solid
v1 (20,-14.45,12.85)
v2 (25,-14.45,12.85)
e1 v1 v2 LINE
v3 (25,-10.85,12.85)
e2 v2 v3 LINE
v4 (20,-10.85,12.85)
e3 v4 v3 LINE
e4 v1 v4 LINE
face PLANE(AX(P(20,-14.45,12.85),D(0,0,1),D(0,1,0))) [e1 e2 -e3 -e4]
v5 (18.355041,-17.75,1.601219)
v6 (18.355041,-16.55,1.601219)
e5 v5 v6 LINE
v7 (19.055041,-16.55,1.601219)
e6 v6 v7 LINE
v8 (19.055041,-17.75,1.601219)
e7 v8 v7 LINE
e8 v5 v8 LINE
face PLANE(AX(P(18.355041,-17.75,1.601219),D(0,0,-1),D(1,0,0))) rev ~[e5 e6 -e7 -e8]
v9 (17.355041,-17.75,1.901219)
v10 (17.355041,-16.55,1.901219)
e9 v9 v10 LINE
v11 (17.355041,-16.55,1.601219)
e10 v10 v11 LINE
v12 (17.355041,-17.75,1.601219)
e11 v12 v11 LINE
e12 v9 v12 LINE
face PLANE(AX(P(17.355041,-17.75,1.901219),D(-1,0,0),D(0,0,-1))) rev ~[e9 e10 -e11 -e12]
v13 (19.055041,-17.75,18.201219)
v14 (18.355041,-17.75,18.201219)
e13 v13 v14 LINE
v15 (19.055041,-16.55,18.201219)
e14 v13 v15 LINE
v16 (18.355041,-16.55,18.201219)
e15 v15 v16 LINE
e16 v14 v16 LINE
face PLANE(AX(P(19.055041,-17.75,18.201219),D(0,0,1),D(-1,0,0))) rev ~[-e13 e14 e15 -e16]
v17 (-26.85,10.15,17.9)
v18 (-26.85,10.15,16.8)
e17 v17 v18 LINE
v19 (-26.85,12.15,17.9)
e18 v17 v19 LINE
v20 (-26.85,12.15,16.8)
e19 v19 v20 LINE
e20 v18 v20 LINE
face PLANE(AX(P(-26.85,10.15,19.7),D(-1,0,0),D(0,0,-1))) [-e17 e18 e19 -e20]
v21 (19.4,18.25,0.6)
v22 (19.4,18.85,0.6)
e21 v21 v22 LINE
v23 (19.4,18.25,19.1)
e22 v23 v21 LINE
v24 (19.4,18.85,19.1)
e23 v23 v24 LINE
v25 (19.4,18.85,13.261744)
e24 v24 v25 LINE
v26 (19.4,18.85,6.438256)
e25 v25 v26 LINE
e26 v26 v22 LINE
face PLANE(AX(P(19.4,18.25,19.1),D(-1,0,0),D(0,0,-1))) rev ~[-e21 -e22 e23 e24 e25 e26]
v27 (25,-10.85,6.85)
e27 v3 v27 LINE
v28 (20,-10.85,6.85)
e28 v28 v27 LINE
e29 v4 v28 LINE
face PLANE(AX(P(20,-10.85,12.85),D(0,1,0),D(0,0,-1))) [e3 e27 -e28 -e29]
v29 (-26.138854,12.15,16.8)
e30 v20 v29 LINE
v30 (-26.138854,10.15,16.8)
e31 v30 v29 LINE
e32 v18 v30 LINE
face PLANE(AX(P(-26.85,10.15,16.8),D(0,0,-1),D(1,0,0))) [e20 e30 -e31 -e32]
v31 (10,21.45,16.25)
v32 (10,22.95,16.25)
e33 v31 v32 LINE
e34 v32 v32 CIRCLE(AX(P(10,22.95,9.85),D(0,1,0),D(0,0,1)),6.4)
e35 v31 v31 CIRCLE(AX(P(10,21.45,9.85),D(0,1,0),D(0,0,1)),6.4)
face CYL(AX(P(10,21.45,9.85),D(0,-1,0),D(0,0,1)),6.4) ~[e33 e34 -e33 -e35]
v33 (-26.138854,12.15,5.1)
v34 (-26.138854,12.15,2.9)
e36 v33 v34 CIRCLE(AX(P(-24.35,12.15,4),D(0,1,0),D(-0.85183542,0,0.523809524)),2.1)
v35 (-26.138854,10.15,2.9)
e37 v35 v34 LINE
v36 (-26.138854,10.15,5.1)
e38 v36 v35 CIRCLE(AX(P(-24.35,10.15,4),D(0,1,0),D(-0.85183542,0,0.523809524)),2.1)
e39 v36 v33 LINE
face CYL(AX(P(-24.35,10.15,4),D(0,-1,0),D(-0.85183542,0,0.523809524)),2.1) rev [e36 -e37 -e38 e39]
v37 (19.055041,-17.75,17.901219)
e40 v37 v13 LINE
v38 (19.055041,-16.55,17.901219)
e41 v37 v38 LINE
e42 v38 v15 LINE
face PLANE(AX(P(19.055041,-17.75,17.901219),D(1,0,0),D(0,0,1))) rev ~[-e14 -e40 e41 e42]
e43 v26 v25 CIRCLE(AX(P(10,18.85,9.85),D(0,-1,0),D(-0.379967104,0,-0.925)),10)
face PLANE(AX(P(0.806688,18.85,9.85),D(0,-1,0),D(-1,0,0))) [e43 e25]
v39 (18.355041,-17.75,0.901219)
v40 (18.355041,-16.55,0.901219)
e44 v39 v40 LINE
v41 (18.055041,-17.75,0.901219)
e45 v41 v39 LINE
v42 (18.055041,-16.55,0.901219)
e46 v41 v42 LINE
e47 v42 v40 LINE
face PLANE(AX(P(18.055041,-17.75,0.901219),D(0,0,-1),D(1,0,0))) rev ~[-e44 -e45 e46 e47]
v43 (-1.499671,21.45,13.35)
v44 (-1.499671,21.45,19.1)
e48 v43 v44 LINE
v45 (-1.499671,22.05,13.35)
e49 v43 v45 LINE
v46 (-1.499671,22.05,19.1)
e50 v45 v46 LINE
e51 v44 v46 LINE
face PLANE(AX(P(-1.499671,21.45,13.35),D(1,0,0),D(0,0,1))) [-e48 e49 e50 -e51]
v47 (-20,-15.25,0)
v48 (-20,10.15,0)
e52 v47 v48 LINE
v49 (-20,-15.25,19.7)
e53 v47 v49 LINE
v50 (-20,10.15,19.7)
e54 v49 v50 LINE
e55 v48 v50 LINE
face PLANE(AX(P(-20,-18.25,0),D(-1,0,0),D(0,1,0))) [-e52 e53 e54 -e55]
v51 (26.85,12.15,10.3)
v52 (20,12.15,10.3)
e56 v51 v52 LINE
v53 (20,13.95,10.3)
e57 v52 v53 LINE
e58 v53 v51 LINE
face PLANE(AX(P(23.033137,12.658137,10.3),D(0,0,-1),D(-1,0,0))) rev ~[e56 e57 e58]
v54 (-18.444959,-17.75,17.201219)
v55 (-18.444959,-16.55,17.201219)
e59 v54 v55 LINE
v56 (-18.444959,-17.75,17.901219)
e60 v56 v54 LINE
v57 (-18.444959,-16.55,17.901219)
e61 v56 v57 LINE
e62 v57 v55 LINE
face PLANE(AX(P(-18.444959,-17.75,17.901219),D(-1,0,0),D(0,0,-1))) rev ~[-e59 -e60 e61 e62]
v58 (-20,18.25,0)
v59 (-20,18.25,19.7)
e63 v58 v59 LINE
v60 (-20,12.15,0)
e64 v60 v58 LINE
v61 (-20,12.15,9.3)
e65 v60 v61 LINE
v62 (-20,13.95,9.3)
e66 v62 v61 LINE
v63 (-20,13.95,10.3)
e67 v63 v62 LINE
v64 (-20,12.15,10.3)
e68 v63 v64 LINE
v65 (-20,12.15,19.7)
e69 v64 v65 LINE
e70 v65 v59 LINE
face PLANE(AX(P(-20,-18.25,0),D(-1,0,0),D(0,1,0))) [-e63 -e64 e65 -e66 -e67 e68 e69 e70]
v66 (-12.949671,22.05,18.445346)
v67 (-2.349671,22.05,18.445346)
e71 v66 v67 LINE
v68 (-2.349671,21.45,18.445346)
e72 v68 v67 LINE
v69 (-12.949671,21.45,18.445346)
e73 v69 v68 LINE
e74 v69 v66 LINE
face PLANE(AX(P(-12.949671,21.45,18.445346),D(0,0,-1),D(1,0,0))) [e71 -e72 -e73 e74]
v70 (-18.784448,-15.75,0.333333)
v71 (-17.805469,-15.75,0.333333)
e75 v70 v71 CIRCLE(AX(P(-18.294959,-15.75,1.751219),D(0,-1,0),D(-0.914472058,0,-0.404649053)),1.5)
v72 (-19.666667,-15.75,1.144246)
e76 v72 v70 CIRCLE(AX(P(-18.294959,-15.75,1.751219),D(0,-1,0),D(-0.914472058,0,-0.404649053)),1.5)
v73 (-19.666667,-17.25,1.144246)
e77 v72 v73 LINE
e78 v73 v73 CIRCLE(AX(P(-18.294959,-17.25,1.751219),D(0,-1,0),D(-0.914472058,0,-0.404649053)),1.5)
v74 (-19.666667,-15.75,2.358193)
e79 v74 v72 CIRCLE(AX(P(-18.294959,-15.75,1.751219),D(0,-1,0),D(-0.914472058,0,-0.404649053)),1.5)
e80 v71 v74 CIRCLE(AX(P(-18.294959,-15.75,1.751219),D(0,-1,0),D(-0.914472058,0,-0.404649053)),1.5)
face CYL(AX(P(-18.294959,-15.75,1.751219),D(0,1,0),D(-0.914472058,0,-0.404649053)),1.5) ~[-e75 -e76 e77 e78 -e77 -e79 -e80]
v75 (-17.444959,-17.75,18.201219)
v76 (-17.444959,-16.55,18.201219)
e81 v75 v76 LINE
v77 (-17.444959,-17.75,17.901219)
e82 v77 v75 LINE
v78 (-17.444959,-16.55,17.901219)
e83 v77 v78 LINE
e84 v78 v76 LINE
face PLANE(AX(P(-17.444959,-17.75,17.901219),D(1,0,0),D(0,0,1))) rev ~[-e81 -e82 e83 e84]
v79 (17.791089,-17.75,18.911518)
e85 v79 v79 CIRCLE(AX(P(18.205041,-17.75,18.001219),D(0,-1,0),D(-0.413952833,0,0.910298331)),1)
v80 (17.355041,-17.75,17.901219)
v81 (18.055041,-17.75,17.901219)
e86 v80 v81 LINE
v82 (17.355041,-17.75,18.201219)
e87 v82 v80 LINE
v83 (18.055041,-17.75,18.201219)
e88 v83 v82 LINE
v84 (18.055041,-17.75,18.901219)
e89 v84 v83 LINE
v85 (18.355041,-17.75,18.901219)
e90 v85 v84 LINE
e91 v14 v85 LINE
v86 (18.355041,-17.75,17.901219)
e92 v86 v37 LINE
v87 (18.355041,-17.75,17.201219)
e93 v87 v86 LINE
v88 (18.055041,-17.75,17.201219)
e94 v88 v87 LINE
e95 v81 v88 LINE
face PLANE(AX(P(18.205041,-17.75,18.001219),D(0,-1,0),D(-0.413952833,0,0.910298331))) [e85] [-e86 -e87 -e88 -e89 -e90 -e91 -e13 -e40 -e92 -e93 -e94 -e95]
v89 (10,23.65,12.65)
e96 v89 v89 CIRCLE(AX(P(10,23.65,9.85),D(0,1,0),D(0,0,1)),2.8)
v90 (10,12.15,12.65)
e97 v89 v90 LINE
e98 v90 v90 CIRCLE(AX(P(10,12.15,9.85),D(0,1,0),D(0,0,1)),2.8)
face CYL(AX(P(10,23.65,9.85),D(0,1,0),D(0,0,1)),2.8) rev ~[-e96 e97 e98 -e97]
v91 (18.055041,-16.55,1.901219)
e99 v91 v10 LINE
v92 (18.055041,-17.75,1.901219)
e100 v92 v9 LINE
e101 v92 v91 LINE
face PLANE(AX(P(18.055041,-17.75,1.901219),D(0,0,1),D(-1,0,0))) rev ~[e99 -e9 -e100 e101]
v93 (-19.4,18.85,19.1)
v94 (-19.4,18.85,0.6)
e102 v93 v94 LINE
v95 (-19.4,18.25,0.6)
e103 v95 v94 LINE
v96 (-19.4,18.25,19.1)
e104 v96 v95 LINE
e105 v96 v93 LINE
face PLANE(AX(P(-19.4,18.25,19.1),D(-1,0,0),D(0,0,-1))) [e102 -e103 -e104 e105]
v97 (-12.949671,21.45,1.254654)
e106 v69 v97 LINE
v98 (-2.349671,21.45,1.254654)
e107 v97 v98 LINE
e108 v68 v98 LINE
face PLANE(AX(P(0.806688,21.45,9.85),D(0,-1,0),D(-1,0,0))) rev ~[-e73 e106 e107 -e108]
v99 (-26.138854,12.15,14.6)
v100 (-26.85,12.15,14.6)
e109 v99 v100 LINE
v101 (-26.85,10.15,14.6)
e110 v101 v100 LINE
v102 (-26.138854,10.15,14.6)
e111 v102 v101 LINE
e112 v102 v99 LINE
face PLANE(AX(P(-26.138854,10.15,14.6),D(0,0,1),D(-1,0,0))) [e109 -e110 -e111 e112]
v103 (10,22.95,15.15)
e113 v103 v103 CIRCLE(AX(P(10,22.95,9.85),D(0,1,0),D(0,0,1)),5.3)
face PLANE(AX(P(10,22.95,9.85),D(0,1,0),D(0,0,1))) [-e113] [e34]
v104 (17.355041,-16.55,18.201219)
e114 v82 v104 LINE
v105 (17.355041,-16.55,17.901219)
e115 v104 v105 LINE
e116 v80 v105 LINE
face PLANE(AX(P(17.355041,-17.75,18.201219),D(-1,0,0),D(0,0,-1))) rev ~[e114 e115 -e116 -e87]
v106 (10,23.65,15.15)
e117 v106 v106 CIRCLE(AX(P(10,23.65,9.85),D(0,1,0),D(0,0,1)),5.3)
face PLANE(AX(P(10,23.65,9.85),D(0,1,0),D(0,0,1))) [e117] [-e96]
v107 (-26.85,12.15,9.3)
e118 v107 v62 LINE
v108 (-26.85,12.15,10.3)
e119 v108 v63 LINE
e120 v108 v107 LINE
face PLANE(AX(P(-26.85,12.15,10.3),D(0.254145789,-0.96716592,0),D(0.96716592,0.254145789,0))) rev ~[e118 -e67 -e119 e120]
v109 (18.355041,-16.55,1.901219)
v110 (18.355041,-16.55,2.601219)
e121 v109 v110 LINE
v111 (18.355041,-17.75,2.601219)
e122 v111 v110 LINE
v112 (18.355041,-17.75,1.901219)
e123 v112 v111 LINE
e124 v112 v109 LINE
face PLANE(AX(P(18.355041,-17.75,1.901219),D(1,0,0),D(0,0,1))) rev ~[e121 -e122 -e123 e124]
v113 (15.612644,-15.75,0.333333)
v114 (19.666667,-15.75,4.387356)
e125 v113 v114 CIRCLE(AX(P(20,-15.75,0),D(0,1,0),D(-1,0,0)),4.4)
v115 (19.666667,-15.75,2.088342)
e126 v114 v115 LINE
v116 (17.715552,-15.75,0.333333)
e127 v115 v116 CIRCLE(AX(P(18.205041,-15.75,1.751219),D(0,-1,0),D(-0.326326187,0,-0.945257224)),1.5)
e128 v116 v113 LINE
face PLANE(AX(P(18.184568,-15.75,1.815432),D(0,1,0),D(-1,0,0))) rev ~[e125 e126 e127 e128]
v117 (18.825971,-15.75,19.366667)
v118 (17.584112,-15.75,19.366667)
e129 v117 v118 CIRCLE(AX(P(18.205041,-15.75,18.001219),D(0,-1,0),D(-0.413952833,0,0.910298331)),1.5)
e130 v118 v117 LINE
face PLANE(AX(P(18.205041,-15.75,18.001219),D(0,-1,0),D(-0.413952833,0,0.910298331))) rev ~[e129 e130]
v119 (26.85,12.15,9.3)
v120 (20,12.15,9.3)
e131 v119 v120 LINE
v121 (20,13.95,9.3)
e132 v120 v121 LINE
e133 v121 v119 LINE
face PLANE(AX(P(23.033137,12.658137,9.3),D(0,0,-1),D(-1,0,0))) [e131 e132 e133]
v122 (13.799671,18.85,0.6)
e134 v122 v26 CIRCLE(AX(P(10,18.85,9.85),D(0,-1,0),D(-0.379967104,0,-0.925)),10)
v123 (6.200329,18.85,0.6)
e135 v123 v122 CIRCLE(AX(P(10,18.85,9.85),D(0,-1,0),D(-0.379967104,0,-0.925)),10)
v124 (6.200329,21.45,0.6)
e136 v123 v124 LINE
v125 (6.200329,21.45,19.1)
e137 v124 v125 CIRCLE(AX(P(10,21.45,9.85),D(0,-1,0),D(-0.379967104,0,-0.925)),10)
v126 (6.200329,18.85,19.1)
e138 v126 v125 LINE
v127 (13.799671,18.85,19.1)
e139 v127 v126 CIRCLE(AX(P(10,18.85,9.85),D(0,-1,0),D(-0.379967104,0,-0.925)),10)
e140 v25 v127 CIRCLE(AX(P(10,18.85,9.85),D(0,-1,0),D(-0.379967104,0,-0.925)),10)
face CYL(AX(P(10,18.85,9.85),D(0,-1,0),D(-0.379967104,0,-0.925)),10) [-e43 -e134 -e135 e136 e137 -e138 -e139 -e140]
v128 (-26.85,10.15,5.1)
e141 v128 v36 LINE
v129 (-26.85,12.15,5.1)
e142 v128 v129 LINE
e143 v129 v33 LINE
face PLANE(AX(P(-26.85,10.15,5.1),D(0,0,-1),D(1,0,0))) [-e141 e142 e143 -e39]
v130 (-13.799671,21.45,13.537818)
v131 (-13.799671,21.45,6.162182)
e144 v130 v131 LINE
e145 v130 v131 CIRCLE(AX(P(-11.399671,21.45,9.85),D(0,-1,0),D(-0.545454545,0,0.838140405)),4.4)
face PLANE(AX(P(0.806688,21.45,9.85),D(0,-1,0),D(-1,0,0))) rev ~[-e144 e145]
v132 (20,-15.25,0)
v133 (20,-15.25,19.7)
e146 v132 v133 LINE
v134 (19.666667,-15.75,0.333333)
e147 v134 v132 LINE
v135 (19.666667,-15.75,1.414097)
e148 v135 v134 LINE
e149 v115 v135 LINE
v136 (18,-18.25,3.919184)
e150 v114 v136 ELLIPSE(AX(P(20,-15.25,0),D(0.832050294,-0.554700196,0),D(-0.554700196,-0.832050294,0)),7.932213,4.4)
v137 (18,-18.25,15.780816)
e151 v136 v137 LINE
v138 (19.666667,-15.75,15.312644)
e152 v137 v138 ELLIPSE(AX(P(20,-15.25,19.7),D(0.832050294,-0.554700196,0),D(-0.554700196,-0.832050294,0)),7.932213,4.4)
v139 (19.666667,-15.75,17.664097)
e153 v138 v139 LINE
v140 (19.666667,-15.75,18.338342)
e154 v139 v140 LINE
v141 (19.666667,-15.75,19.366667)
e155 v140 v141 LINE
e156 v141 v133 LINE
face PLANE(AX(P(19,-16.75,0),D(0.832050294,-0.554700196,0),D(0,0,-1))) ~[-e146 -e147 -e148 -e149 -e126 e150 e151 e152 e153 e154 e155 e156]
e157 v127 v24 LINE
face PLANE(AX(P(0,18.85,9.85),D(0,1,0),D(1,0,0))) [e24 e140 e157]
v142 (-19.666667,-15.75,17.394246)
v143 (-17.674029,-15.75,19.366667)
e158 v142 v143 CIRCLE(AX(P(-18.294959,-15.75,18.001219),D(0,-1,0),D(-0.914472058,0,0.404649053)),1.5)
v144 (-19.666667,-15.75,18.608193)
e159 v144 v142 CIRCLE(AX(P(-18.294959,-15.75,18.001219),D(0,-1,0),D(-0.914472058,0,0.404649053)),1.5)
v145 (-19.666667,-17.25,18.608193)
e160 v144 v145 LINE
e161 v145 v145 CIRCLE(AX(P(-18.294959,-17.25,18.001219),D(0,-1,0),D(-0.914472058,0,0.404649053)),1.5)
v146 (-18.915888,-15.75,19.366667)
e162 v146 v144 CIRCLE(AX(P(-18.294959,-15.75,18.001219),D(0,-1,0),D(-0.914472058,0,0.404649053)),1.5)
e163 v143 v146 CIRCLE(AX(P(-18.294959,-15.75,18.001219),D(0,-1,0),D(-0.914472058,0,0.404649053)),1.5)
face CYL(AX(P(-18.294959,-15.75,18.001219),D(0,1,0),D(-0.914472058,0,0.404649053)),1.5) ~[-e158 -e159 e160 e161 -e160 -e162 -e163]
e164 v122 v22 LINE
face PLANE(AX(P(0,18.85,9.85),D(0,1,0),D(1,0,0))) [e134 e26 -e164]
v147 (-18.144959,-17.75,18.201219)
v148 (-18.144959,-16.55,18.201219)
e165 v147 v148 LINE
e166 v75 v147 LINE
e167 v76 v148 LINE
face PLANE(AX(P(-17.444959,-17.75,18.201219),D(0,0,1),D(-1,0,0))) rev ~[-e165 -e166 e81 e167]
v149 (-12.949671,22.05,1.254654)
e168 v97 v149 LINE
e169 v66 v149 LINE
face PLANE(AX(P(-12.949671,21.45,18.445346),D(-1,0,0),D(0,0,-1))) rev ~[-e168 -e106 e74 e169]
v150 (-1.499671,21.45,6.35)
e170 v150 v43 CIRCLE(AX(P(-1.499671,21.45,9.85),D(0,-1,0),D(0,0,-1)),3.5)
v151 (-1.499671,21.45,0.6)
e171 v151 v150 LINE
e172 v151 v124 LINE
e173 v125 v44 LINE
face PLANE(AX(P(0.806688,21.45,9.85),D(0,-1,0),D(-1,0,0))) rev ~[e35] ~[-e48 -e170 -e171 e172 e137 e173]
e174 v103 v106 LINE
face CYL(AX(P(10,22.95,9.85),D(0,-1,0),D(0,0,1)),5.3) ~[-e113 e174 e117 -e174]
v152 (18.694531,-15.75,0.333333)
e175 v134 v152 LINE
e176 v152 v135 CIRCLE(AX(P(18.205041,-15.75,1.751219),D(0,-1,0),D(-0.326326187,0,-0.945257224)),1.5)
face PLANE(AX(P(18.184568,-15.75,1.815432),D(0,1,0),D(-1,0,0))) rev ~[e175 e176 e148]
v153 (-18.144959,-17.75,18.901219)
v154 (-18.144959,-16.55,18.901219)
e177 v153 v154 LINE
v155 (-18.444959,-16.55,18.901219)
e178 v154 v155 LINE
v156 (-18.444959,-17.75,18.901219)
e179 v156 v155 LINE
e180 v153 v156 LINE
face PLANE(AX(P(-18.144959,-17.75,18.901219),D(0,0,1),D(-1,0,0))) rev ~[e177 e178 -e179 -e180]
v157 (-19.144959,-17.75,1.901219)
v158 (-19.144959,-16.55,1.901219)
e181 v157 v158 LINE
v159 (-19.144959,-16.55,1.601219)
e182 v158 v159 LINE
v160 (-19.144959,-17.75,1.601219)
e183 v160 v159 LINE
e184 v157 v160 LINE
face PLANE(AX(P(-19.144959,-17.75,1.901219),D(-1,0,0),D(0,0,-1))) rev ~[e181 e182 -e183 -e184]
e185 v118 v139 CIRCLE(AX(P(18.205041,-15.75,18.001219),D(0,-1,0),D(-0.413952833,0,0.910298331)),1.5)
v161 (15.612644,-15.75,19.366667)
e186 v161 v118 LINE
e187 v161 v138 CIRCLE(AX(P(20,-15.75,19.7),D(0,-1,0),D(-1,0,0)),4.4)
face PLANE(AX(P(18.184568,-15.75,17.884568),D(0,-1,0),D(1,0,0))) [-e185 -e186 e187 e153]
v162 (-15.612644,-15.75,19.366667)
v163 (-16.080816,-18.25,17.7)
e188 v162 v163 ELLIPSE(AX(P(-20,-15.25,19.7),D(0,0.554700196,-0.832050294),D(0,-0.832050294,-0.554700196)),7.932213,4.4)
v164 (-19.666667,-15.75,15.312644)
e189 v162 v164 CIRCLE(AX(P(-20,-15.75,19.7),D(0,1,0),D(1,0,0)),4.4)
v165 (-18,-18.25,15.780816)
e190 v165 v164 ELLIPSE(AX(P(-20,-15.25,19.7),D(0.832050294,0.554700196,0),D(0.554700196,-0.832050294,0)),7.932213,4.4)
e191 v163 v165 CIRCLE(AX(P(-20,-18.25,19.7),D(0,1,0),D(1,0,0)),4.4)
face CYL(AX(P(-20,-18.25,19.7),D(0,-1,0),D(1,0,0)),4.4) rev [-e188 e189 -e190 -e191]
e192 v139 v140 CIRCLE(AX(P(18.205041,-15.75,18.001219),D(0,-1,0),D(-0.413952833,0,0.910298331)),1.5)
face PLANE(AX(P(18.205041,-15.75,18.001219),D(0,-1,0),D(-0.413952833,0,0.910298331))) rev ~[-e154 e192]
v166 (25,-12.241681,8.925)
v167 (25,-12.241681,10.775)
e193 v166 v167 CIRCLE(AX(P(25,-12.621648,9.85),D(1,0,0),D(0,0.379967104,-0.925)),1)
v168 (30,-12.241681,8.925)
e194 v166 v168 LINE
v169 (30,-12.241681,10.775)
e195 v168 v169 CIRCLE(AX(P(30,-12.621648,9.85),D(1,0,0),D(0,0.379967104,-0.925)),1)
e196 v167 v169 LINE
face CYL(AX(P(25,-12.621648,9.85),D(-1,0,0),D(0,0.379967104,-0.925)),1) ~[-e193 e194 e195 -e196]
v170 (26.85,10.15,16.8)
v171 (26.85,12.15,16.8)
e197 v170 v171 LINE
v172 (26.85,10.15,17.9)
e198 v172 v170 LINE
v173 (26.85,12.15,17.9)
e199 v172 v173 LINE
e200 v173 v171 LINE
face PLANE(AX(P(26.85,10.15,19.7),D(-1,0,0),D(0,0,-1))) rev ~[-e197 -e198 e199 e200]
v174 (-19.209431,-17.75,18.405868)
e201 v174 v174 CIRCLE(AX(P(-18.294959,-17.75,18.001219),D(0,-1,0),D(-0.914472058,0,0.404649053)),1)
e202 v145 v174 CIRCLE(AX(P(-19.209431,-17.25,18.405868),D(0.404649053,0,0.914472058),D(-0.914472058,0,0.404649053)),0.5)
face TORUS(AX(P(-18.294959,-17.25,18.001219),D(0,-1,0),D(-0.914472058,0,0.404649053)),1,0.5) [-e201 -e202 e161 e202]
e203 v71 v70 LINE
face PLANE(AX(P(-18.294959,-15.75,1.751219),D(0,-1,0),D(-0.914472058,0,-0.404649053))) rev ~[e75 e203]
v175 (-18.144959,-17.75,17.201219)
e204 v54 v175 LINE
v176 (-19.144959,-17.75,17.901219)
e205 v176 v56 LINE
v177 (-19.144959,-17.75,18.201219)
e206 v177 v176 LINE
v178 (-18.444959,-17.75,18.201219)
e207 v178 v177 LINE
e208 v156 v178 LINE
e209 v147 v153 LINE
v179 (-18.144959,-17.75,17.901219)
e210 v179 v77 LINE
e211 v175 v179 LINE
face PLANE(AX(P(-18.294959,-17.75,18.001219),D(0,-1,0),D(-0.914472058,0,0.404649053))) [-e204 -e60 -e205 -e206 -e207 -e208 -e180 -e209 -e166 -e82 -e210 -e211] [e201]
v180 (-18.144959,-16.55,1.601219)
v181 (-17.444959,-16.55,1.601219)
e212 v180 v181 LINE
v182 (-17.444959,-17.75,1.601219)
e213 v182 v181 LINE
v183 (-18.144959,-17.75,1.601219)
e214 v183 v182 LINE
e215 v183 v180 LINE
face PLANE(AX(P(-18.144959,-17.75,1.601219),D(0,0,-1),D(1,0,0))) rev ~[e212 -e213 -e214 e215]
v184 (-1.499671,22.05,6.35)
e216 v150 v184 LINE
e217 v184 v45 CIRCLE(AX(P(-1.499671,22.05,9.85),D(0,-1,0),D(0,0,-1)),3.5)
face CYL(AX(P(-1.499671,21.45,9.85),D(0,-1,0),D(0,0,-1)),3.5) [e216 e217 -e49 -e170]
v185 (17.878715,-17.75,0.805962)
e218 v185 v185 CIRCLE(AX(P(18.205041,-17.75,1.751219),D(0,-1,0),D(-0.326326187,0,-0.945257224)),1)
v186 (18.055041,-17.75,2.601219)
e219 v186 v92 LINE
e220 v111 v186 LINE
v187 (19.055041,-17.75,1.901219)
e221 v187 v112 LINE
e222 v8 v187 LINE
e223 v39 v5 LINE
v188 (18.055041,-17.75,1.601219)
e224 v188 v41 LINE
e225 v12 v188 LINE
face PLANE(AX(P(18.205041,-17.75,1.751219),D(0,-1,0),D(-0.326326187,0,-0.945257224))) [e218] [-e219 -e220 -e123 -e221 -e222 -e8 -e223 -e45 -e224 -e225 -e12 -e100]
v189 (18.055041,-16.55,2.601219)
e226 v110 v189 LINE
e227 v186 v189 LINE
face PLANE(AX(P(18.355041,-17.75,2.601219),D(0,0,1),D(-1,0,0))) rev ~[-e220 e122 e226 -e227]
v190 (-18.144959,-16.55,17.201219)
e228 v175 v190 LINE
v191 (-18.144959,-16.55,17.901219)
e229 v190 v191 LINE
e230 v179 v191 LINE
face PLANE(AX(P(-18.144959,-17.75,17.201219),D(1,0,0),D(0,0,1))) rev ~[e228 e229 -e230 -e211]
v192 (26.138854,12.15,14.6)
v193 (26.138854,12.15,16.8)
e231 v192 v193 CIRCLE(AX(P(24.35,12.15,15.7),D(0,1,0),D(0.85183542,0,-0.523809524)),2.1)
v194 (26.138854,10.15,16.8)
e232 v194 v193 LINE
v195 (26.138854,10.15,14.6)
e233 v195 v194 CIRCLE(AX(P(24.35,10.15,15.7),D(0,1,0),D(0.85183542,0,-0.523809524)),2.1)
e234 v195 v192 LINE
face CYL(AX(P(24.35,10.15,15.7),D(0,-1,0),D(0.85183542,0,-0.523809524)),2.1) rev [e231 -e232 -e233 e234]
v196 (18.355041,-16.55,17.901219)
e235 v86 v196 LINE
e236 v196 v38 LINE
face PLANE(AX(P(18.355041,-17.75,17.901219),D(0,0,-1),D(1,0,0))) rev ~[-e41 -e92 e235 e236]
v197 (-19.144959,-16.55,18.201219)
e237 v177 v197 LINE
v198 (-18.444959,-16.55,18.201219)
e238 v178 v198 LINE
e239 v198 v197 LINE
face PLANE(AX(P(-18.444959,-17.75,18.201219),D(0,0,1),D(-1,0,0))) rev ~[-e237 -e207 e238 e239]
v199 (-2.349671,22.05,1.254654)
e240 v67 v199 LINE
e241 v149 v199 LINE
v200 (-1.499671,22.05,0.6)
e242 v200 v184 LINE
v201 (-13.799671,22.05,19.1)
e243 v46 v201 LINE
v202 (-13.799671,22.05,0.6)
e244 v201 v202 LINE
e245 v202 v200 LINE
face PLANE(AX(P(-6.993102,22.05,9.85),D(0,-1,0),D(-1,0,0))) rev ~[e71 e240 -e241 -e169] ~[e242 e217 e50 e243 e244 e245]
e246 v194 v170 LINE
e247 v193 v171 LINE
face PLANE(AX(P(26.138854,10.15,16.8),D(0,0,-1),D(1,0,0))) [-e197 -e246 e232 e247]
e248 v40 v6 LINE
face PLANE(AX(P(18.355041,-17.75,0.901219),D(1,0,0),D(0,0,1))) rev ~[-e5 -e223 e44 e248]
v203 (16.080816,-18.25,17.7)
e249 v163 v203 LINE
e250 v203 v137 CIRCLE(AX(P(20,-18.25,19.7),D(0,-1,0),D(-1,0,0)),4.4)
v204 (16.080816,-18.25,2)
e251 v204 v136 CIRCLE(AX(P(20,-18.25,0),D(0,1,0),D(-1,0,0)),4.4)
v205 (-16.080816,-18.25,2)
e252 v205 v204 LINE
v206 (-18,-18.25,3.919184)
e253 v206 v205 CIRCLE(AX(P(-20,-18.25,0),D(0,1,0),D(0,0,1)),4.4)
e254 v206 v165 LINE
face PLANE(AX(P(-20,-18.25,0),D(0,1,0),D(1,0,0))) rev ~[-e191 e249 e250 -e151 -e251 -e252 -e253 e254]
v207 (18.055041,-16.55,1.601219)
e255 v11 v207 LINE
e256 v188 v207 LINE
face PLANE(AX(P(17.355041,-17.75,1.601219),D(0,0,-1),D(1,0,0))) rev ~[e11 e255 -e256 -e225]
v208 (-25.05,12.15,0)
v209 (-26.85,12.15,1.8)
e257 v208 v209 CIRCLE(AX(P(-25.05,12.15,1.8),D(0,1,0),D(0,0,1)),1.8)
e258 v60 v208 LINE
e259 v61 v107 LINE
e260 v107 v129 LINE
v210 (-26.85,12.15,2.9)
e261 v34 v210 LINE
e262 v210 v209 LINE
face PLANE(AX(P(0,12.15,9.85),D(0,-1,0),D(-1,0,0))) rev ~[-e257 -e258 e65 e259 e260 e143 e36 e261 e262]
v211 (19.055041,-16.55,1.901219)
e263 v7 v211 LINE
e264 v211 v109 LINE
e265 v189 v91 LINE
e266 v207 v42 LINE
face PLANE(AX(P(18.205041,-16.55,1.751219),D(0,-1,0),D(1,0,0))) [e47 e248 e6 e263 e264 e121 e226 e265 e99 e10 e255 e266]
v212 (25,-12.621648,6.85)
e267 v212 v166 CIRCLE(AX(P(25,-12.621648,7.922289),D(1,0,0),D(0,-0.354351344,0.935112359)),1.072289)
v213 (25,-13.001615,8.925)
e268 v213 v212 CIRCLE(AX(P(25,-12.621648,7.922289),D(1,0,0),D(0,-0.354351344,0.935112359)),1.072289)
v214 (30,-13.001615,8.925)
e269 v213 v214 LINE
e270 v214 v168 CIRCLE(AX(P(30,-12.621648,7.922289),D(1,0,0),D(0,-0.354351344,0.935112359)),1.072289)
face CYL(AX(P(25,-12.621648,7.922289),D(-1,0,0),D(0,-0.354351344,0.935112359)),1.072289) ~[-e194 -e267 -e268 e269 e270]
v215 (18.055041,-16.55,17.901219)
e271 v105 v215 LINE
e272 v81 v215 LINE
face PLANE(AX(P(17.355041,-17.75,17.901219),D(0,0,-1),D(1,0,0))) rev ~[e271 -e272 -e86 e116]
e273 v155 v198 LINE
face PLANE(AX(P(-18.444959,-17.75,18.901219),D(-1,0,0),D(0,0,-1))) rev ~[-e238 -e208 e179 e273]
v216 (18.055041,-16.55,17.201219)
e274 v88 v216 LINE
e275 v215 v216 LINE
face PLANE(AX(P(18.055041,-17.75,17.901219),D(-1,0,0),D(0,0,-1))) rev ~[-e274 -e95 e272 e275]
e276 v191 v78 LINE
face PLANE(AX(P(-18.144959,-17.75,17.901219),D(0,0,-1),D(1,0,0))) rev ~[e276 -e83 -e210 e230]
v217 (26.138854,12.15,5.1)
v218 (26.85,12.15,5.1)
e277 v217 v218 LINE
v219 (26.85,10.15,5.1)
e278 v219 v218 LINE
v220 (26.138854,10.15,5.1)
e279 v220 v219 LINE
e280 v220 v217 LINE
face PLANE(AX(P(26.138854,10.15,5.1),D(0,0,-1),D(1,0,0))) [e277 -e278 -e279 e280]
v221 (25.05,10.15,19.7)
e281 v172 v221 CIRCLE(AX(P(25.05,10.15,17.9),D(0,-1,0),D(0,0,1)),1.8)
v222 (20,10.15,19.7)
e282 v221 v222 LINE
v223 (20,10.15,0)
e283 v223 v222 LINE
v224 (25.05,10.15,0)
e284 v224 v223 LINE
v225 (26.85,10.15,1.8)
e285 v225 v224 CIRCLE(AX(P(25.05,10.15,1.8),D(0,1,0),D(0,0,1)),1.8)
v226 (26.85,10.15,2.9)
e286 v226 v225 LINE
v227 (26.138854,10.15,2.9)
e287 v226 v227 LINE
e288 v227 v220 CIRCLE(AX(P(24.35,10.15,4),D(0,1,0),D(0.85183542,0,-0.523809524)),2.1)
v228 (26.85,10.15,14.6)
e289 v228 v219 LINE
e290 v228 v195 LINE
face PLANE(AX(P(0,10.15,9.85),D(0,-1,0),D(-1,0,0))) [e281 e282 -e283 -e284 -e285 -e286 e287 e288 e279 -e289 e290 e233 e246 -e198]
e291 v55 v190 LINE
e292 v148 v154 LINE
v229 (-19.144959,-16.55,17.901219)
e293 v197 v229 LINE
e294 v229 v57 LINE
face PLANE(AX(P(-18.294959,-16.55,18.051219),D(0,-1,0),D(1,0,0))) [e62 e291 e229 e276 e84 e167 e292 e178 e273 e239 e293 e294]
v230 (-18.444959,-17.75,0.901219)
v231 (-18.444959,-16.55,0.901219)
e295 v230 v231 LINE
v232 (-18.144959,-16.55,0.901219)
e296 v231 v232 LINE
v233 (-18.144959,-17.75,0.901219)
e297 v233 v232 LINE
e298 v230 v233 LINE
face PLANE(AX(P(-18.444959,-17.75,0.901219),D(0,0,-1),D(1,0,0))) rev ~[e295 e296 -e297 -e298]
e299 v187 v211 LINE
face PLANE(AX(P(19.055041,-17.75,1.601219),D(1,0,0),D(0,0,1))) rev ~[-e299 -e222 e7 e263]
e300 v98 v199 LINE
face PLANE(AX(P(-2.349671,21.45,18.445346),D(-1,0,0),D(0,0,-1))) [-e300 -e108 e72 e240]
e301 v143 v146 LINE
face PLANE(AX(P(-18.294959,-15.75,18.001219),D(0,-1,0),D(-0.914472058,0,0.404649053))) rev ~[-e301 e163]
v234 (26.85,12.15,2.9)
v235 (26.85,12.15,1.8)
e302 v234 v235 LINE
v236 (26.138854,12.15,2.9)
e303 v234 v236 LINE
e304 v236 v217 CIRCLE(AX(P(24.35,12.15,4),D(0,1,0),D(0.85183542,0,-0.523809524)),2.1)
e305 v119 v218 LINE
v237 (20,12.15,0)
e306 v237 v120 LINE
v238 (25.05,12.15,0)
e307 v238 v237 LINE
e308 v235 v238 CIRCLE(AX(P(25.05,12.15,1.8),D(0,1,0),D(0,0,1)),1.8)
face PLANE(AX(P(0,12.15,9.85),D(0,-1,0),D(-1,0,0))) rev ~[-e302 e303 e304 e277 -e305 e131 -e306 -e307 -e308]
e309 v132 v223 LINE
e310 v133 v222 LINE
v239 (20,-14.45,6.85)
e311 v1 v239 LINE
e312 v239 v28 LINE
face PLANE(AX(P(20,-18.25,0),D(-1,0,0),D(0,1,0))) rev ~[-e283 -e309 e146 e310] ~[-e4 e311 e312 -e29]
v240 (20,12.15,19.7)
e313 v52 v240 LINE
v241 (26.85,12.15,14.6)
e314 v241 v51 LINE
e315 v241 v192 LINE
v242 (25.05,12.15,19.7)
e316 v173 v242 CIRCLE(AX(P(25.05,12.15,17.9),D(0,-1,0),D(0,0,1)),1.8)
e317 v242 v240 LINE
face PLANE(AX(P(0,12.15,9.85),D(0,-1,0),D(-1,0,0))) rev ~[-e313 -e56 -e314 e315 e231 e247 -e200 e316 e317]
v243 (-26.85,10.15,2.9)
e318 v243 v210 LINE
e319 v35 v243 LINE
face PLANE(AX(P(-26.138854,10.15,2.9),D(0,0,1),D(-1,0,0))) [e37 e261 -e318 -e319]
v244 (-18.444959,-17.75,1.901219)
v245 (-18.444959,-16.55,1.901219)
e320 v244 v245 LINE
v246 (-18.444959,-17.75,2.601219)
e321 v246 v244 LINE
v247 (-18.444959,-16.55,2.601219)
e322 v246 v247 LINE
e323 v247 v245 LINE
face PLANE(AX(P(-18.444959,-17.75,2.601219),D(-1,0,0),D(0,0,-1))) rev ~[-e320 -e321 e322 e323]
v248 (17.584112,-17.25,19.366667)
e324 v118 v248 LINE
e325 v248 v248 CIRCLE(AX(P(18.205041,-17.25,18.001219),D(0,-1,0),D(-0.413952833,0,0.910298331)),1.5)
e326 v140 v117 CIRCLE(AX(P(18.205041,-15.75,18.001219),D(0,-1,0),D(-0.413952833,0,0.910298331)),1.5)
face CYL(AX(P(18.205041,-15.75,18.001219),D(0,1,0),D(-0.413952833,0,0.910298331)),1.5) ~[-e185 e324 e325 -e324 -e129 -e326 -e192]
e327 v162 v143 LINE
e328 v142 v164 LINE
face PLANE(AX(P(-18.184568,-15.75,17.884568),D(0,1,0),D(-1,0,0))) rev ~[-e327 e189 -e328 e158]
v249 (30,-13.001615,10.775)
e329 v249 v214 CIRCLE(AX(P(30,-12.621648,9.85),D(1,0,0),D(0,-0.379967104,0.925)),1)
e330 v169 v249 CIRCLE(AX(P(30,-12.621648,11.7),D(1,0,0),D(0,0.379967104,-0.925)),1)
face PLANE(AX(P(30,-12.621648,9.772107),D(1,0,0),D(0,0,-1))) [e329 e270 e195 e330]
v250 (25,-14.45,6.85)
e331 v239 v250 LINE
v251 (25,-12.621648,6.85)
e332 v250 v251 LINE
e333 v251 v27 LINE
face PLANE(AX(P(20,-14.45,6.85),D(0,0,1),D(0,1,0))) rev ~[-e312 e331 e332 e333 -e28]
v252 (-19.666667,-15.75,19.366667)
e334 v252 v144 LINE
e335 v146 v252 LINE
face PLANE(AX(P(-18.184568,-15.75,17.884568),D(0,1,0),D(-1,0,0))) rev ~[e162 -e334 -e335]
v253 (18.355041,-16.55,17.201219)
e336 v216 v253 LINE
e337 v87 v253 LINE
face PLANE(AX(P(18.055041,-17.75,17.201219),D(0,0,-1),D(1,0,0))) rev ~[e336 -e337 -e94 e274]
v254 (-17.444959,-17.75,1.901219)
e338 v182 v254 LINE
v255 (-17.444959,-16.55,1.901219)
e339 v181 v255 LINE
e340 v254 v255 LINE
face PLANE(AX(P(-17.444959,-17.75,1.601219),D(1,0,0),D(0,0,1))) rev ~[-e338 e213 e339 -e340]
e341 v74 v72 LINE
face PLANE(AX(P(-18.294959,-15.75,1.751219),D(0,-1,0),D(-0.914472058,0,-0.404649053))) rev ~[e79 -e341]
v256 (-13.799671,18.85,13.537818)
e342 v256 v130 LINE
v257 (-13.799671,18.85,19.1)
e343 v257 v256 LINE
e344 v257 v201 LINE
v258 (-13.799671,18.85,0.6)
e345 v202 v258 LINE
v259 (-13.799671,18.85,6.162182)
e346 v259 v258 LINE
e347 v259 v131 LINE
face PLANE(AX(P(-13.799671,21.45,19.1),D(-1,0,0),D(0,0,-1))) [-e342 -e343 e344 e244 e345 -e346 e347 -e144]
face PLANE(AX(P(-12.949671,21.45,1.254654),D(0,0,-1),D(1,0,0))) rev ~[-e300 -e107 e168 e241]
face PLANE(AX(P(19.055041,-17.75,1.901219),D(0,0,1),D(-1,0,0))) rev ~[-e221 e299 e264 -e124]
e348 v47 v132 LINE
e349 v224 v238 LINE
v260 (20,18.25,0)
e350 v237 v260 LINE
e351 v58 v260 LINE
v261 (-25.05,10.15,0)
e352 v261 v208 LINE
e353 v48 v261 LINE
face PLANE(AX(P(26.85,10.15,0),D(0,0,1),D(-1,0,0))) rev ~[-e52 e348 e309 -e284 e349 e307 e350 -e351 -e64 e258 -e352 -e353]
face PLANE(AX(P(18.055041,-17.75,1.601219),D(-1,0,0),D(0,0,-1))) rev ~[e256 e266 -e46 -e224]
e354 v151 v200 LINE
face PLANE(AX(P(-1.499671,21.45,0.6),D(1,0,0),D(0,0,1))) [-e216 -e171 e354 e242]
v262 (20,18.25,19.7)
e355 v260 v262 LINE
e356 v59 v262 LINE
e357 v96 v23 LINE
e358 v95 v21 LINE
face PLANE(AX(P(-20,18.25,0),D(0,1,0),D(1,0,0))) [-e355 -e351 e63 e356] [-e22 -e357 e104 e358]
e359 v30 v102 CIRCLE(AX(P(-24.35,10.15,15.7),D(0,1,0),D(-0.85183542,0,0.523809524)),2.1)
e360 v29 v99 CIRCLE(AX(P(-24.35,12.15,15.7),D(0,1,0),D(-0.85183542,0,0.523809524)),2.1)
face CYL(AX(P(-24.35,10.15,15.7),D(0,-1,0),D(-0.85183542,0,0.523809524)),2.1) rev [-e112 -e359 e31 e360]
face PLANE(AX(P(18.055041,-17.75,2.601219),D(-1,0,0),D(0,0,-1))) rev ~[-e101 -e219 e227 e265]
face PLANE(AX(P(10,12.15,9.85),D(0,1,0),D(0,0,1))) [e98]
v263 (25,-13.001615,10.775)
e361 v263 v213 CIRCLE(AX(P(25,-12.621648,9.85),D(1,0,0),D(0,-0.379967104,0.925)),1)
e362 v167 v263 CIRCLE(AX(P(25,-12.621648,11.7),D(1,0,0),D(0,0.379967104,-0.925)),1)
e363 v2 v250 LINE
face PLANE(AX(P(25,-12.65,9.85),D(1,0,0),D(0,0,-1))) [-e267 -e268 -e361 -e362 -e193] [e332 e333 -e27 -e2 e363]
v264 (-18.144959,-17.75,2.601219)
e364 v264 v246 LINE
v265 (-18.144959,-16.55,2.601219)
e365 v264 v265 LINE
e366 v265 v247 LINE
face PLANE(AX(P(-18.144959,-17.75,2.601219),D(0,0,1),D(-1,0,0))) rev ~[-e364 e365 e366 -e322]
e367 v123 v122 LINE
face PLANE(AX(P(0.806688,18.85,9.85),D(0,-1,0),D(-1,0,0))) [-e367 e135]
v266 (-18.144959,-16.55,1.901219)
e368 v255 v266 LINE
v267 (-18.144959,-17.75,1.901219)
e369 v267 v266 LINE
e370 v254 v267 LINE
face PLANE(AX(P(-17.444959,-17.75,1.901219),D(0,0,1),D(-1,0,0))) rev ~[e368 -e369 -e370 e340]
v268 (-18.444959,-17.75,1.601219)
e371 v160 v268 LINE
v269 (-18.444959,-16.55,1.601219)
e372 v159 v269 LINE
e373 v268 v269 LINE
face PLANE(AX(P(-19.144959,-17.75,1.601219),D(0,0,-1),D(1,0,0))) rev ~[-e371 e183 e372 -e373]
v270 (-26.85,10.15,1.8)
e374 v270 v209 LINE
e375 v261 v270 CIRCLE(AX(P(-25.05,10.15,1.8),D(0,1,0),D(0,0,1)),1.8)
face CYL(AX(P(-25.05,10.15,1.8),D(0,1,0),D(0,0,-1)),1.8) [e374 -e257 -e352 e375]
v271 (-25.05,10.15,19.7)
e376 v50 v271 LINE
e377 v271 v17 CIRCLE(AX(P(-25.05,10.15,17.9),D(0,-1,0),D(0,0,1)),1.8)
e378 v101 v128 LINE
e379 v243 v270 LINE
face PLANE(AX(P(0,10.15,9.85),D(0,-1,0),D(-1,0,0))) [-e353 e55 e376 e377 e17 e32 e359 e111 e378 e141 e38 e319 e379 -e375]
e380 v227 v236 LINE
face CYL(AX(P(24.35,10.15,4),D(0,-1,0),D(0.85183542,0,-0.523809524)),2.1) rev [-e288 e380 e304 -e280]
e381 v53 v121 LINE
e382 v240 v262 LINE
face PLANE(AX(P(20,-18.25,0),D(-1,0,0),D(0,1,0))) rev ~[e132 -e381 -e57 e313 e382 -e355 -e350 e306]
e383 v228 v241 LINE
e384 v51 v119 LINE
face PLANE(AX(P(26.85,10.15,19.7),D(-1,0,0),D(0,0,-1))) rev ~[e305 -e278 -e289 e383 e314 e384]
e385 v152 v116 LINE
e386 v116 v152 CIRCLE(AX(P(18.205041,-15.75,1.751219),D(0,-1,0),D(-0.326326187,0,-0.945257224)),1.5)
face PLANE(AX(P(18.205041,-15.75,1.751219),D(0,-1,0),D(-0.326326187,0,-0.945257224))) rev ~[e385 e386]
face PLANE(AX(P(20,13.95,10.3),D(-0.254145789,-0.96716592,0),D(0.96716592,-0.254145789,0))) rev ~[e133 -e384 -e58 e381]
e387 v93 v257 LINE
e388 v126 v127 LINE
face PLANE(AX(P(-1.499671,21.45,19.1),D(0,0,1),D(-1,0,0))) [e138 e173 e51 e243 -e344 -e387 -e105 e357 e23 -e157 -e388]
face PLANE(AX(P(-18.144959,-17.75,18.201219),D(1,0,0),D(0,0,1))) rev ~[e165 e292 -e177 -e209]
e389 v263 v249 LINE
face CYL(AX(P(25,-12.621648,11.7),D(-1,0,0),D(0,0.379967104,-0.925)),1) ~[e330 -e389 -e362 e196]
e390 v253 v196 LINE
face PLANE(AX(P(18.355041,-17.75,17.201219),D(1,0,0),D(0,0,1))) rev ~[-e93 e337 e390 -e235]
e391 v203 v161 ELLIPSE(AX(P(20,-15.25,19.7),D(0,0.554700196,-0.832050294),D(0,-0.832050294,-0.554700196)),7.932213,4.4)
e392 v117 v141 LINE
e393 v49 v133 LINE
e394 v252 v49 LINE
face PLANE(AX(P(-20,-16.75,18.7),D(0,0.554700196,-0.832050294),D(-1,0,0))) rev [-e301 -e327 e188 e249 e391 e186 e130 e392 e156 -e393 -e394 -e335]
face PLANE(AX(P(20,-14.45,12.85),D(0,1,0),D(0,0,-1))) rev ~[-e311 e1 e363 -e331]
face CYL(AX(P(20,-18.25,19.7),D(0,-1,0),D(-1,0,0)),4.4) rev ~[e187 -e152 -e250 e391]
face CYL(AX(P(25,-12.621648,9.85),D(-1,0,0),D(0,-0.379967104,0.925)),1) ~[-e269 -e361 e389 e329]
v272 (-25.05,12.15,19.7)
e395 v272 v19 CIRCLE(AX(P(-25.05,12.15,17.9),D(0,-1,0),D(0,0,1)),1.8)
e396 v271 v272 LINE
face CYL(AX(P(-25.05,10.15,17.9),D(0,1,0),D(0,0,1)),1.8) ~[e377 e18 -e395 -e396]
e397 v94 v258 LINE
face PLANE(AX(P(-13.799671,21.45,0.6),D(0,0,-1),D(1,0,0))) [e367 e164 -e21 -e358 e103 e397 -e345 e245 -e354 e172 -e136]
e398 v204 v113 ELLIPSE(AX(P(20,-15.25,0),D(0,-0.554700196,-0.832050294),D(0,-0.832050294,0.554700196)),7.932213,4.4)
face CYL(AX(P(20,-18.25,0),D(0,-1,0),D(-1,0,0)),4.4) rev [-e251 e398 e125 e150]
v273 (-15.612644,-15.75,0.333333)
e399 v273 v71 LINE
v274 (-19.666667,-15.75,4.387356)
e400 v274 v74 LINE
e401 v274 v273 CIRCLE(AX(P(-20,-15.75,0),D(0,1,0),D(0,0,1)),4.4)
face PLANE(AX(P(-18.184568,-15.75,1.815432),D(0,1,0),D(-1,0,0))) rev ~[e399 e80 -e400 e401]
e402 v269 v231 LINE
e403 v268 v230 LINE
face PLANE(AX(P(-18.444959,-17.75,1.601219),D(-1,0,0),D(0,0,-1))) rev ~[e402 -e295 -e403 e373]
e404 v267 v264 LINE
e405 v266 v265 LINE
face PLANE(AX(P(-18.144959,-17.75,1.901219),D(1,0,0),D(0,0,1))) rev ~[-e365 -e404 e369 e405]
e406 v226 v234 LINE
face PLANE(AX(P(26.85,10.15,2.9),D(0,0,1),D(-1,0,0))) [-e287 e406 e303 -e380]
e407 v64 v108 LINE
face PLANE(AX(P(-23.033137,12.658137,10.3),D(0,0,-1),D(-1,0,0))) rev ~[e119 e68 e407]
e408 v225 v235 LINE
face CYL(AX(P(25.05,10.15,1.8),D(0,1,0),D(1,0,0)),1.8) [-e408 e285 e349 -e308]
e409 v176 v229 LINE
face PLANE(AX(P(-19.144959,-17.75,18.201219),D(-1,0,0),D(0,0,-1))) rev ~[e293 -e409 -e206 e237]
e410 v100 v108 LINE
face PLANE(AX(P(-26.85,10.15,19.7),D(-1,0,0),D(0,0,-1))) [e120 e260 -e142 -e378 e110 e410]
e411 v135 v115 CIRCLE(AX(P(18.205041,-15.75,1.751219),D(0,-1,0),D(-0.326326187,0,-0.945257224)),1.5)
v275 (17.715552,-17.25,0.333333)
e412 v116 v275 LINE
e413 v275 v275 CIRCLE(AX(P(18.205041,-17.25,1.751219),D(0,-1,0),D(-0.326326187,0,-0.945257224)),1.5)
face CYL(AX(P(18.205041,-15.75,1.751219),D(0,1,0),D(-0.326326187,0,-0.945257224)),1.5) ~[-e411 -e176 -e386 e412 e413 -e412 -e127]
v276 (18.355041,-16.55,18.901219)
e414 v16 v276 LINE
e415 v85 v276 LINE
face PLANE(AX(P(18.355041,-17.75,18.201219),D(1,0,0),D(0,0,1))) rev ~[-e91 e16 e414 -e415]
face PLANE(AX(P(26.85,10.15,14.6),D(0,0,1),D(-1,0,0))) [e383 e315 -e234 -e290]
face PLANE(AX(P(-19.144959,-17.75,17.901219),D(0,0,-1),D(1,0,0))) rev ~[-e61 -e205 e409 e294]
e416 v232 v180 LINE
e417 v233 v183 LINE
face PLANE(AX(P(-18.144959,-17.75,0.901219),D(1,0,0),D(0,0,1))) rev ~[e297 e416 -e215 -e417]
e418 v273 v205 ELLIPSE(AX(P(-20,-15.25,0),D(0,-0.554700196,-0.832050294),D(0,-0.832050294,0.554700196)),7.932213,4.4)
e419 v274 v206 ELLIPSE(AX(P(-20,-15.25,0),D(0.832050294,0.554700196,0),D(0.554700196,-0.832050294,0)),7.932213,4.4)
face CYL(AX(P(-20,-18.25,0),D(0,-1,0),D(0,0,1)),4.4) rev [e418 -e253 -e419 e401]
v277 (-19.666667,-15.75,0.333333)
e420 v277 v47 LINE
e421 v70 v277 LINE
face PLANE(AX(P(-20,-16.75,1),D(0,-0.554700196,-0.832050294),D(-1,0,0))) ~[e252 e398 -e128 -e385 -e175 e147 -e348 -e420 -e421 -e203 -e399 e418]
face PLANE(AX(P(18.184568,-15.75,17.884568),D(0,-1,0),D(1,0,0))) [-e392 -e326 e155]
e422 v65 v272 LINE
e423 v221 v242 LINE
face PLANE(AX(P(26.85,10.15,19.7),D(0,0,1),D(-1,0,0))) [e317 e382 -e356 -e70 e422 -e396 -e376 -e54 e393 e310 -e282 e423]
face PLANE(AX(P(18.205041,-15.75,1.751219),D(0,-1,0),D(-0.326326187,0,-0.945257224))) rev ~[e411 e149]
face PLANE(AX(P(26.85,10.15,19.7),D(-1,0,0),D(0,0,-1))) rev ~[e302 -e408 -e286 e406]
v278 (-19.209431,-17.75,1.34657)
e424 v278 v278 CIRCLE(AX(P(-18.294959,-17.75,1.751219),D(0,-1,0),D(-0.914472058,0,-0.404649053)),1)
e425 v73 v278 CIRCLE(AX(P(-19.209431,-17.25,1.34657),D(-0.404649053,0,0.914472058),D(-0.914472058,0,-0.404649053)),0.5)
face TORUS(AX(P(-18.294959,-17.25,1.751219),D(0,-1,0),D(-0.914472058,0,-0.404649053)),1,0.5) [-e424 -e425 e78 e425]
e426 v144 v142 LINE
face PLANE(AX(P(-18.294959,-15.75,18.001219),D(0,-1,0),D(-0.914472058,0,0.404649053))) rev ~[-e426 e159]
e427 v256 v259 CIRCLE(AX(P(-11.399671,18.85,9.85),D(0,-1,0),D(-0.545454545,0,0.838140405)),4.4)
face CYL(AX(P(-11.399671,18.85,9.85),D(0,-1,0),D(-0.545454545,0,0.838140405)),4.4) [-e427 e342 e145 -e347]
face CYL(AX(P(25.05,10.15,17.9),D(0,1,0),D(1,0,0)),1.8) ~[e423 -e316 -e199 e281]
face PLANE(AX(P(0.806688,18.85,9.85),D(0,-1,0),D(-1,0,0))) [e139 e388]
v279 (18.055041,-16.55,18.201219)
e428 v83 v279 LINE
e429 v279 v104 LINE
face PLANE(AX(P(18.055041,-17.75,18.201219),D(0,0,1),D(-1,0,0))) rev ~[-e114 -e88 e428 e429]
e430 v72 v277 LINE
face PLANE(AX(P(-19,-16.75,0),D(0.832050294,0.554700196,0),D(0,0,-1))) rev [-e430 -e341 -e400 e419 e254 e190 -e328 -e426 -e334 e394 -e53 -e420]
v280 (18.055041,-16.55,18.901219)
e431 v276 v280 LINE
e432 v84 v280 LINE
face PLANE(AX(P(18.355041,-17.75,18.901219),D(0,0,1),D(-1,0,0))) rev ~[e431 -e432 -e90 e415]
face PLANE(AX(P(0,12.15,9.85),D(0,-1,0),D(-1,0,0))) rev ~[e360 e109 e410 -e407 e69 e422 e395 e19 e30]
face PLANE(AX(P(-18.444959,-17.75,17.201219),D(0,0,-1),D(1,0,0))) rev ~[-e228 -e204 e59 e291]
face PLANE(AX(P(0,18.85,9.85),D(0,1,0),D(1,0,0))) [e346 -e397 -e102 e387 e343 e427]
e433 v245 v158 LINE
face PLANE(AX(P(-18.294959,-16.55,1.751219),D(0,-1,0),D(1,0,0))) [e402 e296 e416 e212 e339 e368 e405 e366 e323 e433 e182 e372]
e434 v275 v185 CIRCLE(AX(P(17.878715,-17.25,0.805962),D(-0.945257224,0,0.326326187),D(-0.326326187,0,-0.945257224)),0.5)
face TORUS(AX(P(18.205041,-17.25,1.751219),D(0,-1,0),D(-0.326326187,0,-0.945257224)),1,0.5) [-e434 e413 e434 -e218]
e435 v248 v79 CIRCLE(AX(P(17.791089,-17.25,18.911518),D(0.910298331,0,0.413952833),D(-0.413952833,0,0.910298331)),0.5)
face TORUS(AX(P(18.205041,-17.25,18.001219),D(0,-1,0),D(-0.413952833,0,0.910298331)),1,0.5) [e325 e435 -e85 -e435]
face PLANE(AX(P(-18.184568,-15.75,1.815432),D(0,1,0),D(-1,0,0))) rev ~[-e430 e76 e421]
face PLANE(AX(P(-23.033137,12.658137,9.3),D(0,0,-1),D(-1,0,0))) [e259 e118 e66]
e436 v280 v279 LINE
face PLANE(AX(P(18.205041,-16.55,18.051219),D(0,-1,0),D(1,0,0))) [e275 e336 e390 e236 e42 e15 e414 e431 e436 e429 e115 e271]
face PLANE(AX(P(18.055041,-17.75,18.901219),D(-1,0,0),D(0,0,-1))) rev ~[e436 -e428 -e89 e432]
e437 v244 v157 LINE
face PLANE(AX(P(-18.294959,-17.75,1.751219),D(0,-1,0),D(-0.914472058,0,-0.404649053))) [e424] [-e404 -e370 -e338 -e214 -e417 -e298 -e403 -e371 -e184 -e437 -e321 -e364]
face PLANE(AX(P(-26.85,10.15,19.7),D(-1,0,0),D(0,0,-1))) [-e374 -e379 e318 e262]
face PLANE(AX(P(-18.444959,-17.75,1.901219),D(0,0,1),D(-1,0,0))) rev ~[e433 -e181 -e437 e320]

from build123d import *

# Parameters (mm, degrees)
SKETCH1_W            = 40
SKETCH1_H            = 36.5
BOSS_EXTRUDE1_DEPTH  = 19.7
CHAMFER1_SIZE        = 2
CHAMFER1_SIZE2       = 3
CUT_EXTRUDE1_DEPTH   = 2.5
SKETCH4_R            = 1.5
BOSS_EXTRUDE2_DEPTH  = 2
FILLET1_R            = 0.5
FILLET3_R            = 0.5
FILLET4_R            = 0.5
FILLET5_R            = 0.5
SKETCH5_W            = 53.7
SKETCH5_H            = 19.7
BOSS_EXTRUDE3_DEPTH  = 2
CUT_EXTRUDE2_DEPTH   = 2
FILLET9_R            = 1.8
BOSS_EXTRUDE4_DEPTH  = 1
SKETCH8_W            = 38.8
SKETCH8_H            = 18.5
BOSS_EXTRUDE5_DEPTH  = 0.6
BOSS_EXTRUDE6_DEPTH  = 2.6
SKETCH10_W           = 10.6
SKETCH10_H           = 17.190691902
BOSS_EXTRUDE7_DEPTH  = 0.6
SKETCH11_R           = 6.4
BOSS_EXTRUDE8_DEPTH  = 1.5
SKETCH12_R           = 5.3
BOSS_EXTRUDE9_DEPTH  = 0.7
CUT_EXTRUDE3_DEPTH   = 1.2
LPATTERN1_COUNT      = 2
LPATTERN1_PITCH      = 36.5
LPATTERN1_COUNT_DIR2 = 2
LPATTERN1_PITCH_DIR2 = 16.3
SKETCH16_W           = 6
SKETCH16_H           = 3.6
BOSS_EXTRUDE11_DEPTH = 5
BOSS_EXTRUDE16_DEPTH = 5
BOSS_EXTRUDE42_DEPTH = 5
SKETCH13_R           = 2.8
CUT_EXTRUDE4_DEPTH   = 11.5


with BuildPart() as part:
    # Sketch1 → Boss-Extrude1 (new body)
    with BuildSketch(Plane.XY):
        Rectangle(SKETCH1_W, SKETCH1_H)
    extrude(amount=BOSS_EXTRUDE1_DEPTH)

    # Chamfer1
    chamfer1_edges = [part.edges().sort_by_distance(p)[0] for p in [
        (0, -18.25, 19.7),
        (0, -18.25, 0),
        (20, -18.25, 9.85),
        (-20, -18.25, 9.85),
    ]]
    chamfer1_side = [part.faces().sort_by_distance(p)[0] for p in [
        (0, -18.25, 9.85),
    ]]
    chamfer(chamfer1_edges, length=CHAMFER1_SIZE, length2=CHAMFER1_SIZE2, reference=chamfer1_side[0])

    # Sketch2 → Cut-Extrude1 (cut)
    with BuildSketch(Plane.XZ.offset(18.25)):
        with BuildLine():
            Line((20, 15.3), (20, 19.7))
            Line((20, 19.7), (15.6, 19.7))
            ThreePointArc((15.6, 19.7), (16.888730163, 16.588730163), (20, 15.3))
        make_face()
        with BuildLine():
            Line((20, 4.4), (20, 0))
            Line((20, 0), (15.6, 0))
            ThreePointArc((15.6, 0), (16.888730163, 3.111269837), (20, 4.4))
        make_face()
        with BuildLine():
            Line((-15.6, 0), (-20, 0))
            Line((-20, 0), (-20, 4.4))
            ThreePointArc((-20, 4.4), (-16.888730163, 3.111269837), (-15.6, 0))
        make_face()
        with BuildLine():
            Line((-20, 15.3), (-20, 19.7))
            Line((-20, 19.7), (-15.6, 19.7))
            ThreePointArc((-15.6, 19.7), (-16.888730163, 16.588730163), (-20, 15.3))
        make_face()
    extrude(amount=-CUT_EXTRUDE1_DEPTH, mode=Mode.SUBTRACT)

    # Sketch4 → Boss-Extrude2 (add)
    with BuildSketch(Plane.XZ.offset(15.75)):
        with Locations(Location((18.20504142, 18.001219169, 0), (0, 0, 114.453388665))):
            Circle(SKETCH4_R)
        with Locations(Location((18.20504142, 1.751219169, 0), (0, 0, 250.954058998))):
            Circle(SKETCH4_R)
        with Locations(Location((-18.29495858, 1.751219169, 0), (0, 0, 203.869136849))):
            Circle(SKETCH4_R)
        with Locations(Location((-18.29495858, 18.001219169, 0), (0, 0, 156.130863151))):
            Circle(SKETCH4_R)
    extrude(amount=BOSS_EXTRUDE2_DEPTH)

    # Fillet1
    fillet1_edges = [part.edges().sort_by_distance(p)[0] for p in [
        (-16.923250494, -17.75, 17.39424559),
    ]]
    fillet(fillet1_edges, radius=FILLET1_R)

    # Fillet3
    fillet3_edges = [part.edges().sort_by_distance(p)[0] for p in [
        (-16.923250494, -17.75, 2.358192748),
    ]]
    fillet(fillet3_edges, radius=FILLET3_R)

    # Fillet4
    fillet4_edges = [part.edges().sort_by_distance(p)[0] for p in [
        (18.6945307, -17.75, 3.169105006),
    ]]
    fillet(fillet4_edges, radius=FILLET4_R)

    # Fillet5
    fillet5_edges = [part.edges().sort_by_distance(p)[0] for p in [
        (18.825970669, -17.75, 16.635771672),
    ]]
    fillet(fillet5_edges, radius=FILLET5_R)

    # Sketch5 → Boss-Extrude3 (add)
    with BuildSketch(Plane(origin=(0, 10.15, 0), x_dir=(-1, 0, 0), z_dir=(0, -1, 0))):
        with Locations((0, -9.85)):
            Rectangle(SKETCH5_W, SKETCH5_H)
    extrude(amount=-BOSS_EXTRUDE3_DEPTH)

    # Sketch6 → Cut-Extrude2 (cut)
    with BuildSketch(Plane.XZ.offset(-10.15)):
        with BuildLine():
            Line((26.85, 14.6), (26.138854382, 14.6))
            ThreePointArc((26.138854382, 14.6), (22.25, 15.7), (26.138854382, 16.8))
            Line((26.138854382, 16.8), (26.85, 16.8))
            Line((26.85, 16.8), (26.85, 14.6))
        make_face()
        with BuildLine():
            Line((26.85, 2.9), (26.138854382, 2.9))
            ThreePointArc((26.138854382, 2.9), (22.25, 4), (26.138854382, 5.1))
            Line((26.138854382, 5.1), (26.85, 5.1))
            Line((26.85, 5.1), (26.85, 2.9))
        make_face()
        with BuildLine():
            Line((-26.85, 5.1), (-26.138854382, 5.1))
            ThreePointArc((-26.138854382, 5.1), (-22.25, 4), (-26.138854382, 2.9))
            Line((-26.138854382, 2.9), (-26.85, 2.9))
            Line((-26.85, 2.9), (-26.85, 5.1))
        make_face()
        with BuildLine():
            Line((-26.85, 16.8), (-26.138854382, 16.8))
            ThreePointArc((-26.138854382, 16.8), (-22.25, 15.7), (-26.138854382, 14.6))
            Line((-26.138854382, 14.6), (-26.85, 14.6))
            Line((-26.85, 14.6), (-26.85, 16.8))
        make_face()
    extrude(amount=-CUT_EXTRUDE2_DEPTH, mode=Mode.SUBTRACT)

    # Fillet9
    fillet9_edges = [part.edges().sort_by_distance(p)[0] for p in [
        (26.85, 11.15, 0),
        (-26.85, 11.15, 0),
        (-26.85, 11.15, 19.7),
        (26.85, 11.15, 19.7),
    ]]
    fillet(fillet9_edges, radius=FILLET9_R)

    # Sketch7 → Boss-Extrude4 (add)
    with BuildSketch(Plane.XY.offset(10.3)):
        Polygon((-26.85, 12.15), (-20, 13.95), (-20, 12.15), align=None)
        Polygon((20, 12.15), (20, 13.95), (26.85, 12.15), align=None)
    extrude(amount=-BOSS_EXTRUDE4_DEPTH)

    # Sketch8 → Boss-Extrude5 (add)
    with BuildSketch(Plane(origin=(0, 18.25, 0), x_dir=(1, 0, 0), z_dir=(0, 1, 0))):
        with Locations((0, -9.85)):
            Rectangle(SKETCH8_W, SKETCH8_H)
    extrude(amount=BOSS_EXTRUDE5_DEPTH)

    # Sketch9 → Boss-Extrude6 (add)
    with BuildSketch(Plane(origin=(0, 18.85, 0), x_dir=(1, 0, 0), z_dir=(0, 1, 0))):
        with BuildLine():
            Line((-13.799671038, -6.162182217), (-13.799671038, -0.6))
            Line((-13.799671038, -0.6), (6.200328962, -0.6))
            ThreePointArc((6.200328962, -0.6), (20, -9.85), (6.200328962, -19.1))
            Line((6.200328962, -19.1), (-13.799671038, -19.1))
            Line((-13.799671038, -19.1), (-13.799671038, -13.537817783))
            ThreePointArc((-13.799671038, -13.537817783), (-15.799671038, -9.85), (-13.799671038, -6.162182217))
        make_face()
    extrude(amount=BOSS_EXTRUDE6_DEPTH)

    # Sketch10 → Boss-Extrude7 (add)
    with BuildSketch(Plane(origin=(0, 21.45, 0), x_dir=(1, 0, 0), z_dir=(0, 1, 0))):
        with BuildLine():
            Line((-13.799671038, -19.1), (-13.799671038, -0.6))
            Line((-13.799671038, -0.6), (-1.499671038, -0.6))
            Line((-1.499671038, -0.6), (-1.499671038, -6.35))
            ThreePointArc((-1.499671038, -6.35), (2.000328962, -9.85), (-1.499671038, -13.35))
            Line((-1.499671038, -13.35), (-1.499671038, -19.1))
            Line((-1.499671038, -19.1), (-13.799671038, -19.1))
        make_face()
        with Locations((-7.649671038, -9.85)):
            Rectangle(SKETCH10_W, SKETCH10_H, mode=Mode.SUBTRACT)
    extrude(amount=BOSS_EXTRUDE7_DEPTH)

    # Sketch11 → Boss-Extrude8 (add)
    with BuildSketch(Plane(origin=(0, 21.45, 0), x_dir=(1, 0, 0), z_dir=(0, 1, 0))):
        with Locations(Location((10, -9.85, 0), (0, 0, 270))):
            Circle(SKETCH11_R)
    extrude(amount=BOSS_EXTRUDE8_DEPTH)

    # Sketch12 → Boss-Extrude9 (add)
    with BuildSketch(Plane(origin=(0, 22.95, 0), x_dir=(1, 0, 0), z_dir=(0, 1, 0))):
        with Locations(Location((10, -9.85, 0), (0, 0, 270))):
            Circle(SKETCH12_R)
    extrude(amount=BOSS_EXTRUDE9_DEPTH)

    # Sketch15 → Cut-Extrude3 (cut)
    with BuildSketch(Plane.XZ.offset(17.75)):
        Polygon((18.05504142, 1.601219169), (18.05504142, 0.901219169), (18.35504142, 0.901219169), (18.35504142, 1.601219169), (19.05504142, 1.601219169), (19.05504142, 1.901219169), (18.35504142, 1.901219169), (18.35504142, 2.601219169), (18.05504142, 2.601219169), (18.05504142, 1.901219169), (17.35504142, 1.901219169), (17.35504142, 1.601219169), align=None)
    cut_extrude3 = extrude(amount=-CUT_EXTRUDE3_DEPTH, mode=Mode.SUBTRACT)

    # LPattern1: Cut-Extrude3 2 × 2
    with Locations(*[(-i * LPATTERN1_PITCH, 0, j * LPATTERN1_PITCH_DIR2) for i in range(LPATTERN1_COUNT) for j in range(LPATTERN1_COUNT_DIR2) if (i, j) != (0, 0)]):
        add(cut_extrude3, mode=Mode.SUBTRACT)

    # Sketch16 → Boss-Extrude11 (add)
    with BuildSketch(Plane(origin=(20, 0, 0), x_dir=(0, 0, -1), z_dir=(1, 0, 0))):
        with Locations((-9.85, -12.65)):
            Rectangle(SKETCH16_W, SKETCH16_H)
    extrude(amount=BOSS_EXTRUDE11_DEPTH)

    # Sketch17 → Boss-Extrude16 (add)
    with BuildSketch(Plane(origin=(25, 0, 0), x_dir=(0, 0, -1), z_dir=(1, 0, 0))):
        with BuildLine():
            ThreePointArc((-10.775, -13.00161488), (-9.85, -13.621647776), (-8.925, -13.00161488))
            ThreePointArc((-8.925, -13.00161488), (-6.85, -12.621647776), (-8.925, -12.241680672))
            ThreePointArc((-8.925, -12.241680672), (-9.85, -11.621647776), (-10.775, -12.241680672))
            ThreePointArc((-10.775, -12.241680672), (-12.7, -12.621647776), (-10.775, -13.00161488))
        make_face()
    extrude(amount=BOSS_EXTRUDE16_DEPTH)

    # Sketch17<9> → Boss-Extrude42 (add)
    with BuildSketch(Plane(origin=(25, 0, 0), x_dir=(0, 0, -1), z_dir=(1, 0, 0))):
        with BuildLine():
            ThreePointArc((-10.775, -13.00161488), (-9.85, -13.621647776), (-8.925, -13.00161488))
            ThreePointArc((-8.925, -13.00161488), (-6.85, -12.621647776), (-8.925, -12.241680672))
            ThreePointArc((-8.925, -12.241680672), (-9.85, -11.621647776), (-10.775, -12.241680672))
            ThreePointArc((-10.775, -12.241680672), (-12.7, -12.621647776), (-10.775, -13.00161488))
        make_face()
    extrude(amount=BOSS_EXTRUDE42_DEPTH)

    # Sketch13 → Cut-Extrude4 (cut)
    with BuildSketch(Plane(origin=(0, 23.65, 0), x_dir=(1, 0, 0), z_dir=(0, 1, 0))):
        with Locations(Location((10, -9.85, 0), (0, 0, 270))):
            Circle(SKETCH13_R)
    extrude(amount=-CUT_EXTRUDE4_DEPTH, mode=Mode.SUBTRACT)


solid = part.part
